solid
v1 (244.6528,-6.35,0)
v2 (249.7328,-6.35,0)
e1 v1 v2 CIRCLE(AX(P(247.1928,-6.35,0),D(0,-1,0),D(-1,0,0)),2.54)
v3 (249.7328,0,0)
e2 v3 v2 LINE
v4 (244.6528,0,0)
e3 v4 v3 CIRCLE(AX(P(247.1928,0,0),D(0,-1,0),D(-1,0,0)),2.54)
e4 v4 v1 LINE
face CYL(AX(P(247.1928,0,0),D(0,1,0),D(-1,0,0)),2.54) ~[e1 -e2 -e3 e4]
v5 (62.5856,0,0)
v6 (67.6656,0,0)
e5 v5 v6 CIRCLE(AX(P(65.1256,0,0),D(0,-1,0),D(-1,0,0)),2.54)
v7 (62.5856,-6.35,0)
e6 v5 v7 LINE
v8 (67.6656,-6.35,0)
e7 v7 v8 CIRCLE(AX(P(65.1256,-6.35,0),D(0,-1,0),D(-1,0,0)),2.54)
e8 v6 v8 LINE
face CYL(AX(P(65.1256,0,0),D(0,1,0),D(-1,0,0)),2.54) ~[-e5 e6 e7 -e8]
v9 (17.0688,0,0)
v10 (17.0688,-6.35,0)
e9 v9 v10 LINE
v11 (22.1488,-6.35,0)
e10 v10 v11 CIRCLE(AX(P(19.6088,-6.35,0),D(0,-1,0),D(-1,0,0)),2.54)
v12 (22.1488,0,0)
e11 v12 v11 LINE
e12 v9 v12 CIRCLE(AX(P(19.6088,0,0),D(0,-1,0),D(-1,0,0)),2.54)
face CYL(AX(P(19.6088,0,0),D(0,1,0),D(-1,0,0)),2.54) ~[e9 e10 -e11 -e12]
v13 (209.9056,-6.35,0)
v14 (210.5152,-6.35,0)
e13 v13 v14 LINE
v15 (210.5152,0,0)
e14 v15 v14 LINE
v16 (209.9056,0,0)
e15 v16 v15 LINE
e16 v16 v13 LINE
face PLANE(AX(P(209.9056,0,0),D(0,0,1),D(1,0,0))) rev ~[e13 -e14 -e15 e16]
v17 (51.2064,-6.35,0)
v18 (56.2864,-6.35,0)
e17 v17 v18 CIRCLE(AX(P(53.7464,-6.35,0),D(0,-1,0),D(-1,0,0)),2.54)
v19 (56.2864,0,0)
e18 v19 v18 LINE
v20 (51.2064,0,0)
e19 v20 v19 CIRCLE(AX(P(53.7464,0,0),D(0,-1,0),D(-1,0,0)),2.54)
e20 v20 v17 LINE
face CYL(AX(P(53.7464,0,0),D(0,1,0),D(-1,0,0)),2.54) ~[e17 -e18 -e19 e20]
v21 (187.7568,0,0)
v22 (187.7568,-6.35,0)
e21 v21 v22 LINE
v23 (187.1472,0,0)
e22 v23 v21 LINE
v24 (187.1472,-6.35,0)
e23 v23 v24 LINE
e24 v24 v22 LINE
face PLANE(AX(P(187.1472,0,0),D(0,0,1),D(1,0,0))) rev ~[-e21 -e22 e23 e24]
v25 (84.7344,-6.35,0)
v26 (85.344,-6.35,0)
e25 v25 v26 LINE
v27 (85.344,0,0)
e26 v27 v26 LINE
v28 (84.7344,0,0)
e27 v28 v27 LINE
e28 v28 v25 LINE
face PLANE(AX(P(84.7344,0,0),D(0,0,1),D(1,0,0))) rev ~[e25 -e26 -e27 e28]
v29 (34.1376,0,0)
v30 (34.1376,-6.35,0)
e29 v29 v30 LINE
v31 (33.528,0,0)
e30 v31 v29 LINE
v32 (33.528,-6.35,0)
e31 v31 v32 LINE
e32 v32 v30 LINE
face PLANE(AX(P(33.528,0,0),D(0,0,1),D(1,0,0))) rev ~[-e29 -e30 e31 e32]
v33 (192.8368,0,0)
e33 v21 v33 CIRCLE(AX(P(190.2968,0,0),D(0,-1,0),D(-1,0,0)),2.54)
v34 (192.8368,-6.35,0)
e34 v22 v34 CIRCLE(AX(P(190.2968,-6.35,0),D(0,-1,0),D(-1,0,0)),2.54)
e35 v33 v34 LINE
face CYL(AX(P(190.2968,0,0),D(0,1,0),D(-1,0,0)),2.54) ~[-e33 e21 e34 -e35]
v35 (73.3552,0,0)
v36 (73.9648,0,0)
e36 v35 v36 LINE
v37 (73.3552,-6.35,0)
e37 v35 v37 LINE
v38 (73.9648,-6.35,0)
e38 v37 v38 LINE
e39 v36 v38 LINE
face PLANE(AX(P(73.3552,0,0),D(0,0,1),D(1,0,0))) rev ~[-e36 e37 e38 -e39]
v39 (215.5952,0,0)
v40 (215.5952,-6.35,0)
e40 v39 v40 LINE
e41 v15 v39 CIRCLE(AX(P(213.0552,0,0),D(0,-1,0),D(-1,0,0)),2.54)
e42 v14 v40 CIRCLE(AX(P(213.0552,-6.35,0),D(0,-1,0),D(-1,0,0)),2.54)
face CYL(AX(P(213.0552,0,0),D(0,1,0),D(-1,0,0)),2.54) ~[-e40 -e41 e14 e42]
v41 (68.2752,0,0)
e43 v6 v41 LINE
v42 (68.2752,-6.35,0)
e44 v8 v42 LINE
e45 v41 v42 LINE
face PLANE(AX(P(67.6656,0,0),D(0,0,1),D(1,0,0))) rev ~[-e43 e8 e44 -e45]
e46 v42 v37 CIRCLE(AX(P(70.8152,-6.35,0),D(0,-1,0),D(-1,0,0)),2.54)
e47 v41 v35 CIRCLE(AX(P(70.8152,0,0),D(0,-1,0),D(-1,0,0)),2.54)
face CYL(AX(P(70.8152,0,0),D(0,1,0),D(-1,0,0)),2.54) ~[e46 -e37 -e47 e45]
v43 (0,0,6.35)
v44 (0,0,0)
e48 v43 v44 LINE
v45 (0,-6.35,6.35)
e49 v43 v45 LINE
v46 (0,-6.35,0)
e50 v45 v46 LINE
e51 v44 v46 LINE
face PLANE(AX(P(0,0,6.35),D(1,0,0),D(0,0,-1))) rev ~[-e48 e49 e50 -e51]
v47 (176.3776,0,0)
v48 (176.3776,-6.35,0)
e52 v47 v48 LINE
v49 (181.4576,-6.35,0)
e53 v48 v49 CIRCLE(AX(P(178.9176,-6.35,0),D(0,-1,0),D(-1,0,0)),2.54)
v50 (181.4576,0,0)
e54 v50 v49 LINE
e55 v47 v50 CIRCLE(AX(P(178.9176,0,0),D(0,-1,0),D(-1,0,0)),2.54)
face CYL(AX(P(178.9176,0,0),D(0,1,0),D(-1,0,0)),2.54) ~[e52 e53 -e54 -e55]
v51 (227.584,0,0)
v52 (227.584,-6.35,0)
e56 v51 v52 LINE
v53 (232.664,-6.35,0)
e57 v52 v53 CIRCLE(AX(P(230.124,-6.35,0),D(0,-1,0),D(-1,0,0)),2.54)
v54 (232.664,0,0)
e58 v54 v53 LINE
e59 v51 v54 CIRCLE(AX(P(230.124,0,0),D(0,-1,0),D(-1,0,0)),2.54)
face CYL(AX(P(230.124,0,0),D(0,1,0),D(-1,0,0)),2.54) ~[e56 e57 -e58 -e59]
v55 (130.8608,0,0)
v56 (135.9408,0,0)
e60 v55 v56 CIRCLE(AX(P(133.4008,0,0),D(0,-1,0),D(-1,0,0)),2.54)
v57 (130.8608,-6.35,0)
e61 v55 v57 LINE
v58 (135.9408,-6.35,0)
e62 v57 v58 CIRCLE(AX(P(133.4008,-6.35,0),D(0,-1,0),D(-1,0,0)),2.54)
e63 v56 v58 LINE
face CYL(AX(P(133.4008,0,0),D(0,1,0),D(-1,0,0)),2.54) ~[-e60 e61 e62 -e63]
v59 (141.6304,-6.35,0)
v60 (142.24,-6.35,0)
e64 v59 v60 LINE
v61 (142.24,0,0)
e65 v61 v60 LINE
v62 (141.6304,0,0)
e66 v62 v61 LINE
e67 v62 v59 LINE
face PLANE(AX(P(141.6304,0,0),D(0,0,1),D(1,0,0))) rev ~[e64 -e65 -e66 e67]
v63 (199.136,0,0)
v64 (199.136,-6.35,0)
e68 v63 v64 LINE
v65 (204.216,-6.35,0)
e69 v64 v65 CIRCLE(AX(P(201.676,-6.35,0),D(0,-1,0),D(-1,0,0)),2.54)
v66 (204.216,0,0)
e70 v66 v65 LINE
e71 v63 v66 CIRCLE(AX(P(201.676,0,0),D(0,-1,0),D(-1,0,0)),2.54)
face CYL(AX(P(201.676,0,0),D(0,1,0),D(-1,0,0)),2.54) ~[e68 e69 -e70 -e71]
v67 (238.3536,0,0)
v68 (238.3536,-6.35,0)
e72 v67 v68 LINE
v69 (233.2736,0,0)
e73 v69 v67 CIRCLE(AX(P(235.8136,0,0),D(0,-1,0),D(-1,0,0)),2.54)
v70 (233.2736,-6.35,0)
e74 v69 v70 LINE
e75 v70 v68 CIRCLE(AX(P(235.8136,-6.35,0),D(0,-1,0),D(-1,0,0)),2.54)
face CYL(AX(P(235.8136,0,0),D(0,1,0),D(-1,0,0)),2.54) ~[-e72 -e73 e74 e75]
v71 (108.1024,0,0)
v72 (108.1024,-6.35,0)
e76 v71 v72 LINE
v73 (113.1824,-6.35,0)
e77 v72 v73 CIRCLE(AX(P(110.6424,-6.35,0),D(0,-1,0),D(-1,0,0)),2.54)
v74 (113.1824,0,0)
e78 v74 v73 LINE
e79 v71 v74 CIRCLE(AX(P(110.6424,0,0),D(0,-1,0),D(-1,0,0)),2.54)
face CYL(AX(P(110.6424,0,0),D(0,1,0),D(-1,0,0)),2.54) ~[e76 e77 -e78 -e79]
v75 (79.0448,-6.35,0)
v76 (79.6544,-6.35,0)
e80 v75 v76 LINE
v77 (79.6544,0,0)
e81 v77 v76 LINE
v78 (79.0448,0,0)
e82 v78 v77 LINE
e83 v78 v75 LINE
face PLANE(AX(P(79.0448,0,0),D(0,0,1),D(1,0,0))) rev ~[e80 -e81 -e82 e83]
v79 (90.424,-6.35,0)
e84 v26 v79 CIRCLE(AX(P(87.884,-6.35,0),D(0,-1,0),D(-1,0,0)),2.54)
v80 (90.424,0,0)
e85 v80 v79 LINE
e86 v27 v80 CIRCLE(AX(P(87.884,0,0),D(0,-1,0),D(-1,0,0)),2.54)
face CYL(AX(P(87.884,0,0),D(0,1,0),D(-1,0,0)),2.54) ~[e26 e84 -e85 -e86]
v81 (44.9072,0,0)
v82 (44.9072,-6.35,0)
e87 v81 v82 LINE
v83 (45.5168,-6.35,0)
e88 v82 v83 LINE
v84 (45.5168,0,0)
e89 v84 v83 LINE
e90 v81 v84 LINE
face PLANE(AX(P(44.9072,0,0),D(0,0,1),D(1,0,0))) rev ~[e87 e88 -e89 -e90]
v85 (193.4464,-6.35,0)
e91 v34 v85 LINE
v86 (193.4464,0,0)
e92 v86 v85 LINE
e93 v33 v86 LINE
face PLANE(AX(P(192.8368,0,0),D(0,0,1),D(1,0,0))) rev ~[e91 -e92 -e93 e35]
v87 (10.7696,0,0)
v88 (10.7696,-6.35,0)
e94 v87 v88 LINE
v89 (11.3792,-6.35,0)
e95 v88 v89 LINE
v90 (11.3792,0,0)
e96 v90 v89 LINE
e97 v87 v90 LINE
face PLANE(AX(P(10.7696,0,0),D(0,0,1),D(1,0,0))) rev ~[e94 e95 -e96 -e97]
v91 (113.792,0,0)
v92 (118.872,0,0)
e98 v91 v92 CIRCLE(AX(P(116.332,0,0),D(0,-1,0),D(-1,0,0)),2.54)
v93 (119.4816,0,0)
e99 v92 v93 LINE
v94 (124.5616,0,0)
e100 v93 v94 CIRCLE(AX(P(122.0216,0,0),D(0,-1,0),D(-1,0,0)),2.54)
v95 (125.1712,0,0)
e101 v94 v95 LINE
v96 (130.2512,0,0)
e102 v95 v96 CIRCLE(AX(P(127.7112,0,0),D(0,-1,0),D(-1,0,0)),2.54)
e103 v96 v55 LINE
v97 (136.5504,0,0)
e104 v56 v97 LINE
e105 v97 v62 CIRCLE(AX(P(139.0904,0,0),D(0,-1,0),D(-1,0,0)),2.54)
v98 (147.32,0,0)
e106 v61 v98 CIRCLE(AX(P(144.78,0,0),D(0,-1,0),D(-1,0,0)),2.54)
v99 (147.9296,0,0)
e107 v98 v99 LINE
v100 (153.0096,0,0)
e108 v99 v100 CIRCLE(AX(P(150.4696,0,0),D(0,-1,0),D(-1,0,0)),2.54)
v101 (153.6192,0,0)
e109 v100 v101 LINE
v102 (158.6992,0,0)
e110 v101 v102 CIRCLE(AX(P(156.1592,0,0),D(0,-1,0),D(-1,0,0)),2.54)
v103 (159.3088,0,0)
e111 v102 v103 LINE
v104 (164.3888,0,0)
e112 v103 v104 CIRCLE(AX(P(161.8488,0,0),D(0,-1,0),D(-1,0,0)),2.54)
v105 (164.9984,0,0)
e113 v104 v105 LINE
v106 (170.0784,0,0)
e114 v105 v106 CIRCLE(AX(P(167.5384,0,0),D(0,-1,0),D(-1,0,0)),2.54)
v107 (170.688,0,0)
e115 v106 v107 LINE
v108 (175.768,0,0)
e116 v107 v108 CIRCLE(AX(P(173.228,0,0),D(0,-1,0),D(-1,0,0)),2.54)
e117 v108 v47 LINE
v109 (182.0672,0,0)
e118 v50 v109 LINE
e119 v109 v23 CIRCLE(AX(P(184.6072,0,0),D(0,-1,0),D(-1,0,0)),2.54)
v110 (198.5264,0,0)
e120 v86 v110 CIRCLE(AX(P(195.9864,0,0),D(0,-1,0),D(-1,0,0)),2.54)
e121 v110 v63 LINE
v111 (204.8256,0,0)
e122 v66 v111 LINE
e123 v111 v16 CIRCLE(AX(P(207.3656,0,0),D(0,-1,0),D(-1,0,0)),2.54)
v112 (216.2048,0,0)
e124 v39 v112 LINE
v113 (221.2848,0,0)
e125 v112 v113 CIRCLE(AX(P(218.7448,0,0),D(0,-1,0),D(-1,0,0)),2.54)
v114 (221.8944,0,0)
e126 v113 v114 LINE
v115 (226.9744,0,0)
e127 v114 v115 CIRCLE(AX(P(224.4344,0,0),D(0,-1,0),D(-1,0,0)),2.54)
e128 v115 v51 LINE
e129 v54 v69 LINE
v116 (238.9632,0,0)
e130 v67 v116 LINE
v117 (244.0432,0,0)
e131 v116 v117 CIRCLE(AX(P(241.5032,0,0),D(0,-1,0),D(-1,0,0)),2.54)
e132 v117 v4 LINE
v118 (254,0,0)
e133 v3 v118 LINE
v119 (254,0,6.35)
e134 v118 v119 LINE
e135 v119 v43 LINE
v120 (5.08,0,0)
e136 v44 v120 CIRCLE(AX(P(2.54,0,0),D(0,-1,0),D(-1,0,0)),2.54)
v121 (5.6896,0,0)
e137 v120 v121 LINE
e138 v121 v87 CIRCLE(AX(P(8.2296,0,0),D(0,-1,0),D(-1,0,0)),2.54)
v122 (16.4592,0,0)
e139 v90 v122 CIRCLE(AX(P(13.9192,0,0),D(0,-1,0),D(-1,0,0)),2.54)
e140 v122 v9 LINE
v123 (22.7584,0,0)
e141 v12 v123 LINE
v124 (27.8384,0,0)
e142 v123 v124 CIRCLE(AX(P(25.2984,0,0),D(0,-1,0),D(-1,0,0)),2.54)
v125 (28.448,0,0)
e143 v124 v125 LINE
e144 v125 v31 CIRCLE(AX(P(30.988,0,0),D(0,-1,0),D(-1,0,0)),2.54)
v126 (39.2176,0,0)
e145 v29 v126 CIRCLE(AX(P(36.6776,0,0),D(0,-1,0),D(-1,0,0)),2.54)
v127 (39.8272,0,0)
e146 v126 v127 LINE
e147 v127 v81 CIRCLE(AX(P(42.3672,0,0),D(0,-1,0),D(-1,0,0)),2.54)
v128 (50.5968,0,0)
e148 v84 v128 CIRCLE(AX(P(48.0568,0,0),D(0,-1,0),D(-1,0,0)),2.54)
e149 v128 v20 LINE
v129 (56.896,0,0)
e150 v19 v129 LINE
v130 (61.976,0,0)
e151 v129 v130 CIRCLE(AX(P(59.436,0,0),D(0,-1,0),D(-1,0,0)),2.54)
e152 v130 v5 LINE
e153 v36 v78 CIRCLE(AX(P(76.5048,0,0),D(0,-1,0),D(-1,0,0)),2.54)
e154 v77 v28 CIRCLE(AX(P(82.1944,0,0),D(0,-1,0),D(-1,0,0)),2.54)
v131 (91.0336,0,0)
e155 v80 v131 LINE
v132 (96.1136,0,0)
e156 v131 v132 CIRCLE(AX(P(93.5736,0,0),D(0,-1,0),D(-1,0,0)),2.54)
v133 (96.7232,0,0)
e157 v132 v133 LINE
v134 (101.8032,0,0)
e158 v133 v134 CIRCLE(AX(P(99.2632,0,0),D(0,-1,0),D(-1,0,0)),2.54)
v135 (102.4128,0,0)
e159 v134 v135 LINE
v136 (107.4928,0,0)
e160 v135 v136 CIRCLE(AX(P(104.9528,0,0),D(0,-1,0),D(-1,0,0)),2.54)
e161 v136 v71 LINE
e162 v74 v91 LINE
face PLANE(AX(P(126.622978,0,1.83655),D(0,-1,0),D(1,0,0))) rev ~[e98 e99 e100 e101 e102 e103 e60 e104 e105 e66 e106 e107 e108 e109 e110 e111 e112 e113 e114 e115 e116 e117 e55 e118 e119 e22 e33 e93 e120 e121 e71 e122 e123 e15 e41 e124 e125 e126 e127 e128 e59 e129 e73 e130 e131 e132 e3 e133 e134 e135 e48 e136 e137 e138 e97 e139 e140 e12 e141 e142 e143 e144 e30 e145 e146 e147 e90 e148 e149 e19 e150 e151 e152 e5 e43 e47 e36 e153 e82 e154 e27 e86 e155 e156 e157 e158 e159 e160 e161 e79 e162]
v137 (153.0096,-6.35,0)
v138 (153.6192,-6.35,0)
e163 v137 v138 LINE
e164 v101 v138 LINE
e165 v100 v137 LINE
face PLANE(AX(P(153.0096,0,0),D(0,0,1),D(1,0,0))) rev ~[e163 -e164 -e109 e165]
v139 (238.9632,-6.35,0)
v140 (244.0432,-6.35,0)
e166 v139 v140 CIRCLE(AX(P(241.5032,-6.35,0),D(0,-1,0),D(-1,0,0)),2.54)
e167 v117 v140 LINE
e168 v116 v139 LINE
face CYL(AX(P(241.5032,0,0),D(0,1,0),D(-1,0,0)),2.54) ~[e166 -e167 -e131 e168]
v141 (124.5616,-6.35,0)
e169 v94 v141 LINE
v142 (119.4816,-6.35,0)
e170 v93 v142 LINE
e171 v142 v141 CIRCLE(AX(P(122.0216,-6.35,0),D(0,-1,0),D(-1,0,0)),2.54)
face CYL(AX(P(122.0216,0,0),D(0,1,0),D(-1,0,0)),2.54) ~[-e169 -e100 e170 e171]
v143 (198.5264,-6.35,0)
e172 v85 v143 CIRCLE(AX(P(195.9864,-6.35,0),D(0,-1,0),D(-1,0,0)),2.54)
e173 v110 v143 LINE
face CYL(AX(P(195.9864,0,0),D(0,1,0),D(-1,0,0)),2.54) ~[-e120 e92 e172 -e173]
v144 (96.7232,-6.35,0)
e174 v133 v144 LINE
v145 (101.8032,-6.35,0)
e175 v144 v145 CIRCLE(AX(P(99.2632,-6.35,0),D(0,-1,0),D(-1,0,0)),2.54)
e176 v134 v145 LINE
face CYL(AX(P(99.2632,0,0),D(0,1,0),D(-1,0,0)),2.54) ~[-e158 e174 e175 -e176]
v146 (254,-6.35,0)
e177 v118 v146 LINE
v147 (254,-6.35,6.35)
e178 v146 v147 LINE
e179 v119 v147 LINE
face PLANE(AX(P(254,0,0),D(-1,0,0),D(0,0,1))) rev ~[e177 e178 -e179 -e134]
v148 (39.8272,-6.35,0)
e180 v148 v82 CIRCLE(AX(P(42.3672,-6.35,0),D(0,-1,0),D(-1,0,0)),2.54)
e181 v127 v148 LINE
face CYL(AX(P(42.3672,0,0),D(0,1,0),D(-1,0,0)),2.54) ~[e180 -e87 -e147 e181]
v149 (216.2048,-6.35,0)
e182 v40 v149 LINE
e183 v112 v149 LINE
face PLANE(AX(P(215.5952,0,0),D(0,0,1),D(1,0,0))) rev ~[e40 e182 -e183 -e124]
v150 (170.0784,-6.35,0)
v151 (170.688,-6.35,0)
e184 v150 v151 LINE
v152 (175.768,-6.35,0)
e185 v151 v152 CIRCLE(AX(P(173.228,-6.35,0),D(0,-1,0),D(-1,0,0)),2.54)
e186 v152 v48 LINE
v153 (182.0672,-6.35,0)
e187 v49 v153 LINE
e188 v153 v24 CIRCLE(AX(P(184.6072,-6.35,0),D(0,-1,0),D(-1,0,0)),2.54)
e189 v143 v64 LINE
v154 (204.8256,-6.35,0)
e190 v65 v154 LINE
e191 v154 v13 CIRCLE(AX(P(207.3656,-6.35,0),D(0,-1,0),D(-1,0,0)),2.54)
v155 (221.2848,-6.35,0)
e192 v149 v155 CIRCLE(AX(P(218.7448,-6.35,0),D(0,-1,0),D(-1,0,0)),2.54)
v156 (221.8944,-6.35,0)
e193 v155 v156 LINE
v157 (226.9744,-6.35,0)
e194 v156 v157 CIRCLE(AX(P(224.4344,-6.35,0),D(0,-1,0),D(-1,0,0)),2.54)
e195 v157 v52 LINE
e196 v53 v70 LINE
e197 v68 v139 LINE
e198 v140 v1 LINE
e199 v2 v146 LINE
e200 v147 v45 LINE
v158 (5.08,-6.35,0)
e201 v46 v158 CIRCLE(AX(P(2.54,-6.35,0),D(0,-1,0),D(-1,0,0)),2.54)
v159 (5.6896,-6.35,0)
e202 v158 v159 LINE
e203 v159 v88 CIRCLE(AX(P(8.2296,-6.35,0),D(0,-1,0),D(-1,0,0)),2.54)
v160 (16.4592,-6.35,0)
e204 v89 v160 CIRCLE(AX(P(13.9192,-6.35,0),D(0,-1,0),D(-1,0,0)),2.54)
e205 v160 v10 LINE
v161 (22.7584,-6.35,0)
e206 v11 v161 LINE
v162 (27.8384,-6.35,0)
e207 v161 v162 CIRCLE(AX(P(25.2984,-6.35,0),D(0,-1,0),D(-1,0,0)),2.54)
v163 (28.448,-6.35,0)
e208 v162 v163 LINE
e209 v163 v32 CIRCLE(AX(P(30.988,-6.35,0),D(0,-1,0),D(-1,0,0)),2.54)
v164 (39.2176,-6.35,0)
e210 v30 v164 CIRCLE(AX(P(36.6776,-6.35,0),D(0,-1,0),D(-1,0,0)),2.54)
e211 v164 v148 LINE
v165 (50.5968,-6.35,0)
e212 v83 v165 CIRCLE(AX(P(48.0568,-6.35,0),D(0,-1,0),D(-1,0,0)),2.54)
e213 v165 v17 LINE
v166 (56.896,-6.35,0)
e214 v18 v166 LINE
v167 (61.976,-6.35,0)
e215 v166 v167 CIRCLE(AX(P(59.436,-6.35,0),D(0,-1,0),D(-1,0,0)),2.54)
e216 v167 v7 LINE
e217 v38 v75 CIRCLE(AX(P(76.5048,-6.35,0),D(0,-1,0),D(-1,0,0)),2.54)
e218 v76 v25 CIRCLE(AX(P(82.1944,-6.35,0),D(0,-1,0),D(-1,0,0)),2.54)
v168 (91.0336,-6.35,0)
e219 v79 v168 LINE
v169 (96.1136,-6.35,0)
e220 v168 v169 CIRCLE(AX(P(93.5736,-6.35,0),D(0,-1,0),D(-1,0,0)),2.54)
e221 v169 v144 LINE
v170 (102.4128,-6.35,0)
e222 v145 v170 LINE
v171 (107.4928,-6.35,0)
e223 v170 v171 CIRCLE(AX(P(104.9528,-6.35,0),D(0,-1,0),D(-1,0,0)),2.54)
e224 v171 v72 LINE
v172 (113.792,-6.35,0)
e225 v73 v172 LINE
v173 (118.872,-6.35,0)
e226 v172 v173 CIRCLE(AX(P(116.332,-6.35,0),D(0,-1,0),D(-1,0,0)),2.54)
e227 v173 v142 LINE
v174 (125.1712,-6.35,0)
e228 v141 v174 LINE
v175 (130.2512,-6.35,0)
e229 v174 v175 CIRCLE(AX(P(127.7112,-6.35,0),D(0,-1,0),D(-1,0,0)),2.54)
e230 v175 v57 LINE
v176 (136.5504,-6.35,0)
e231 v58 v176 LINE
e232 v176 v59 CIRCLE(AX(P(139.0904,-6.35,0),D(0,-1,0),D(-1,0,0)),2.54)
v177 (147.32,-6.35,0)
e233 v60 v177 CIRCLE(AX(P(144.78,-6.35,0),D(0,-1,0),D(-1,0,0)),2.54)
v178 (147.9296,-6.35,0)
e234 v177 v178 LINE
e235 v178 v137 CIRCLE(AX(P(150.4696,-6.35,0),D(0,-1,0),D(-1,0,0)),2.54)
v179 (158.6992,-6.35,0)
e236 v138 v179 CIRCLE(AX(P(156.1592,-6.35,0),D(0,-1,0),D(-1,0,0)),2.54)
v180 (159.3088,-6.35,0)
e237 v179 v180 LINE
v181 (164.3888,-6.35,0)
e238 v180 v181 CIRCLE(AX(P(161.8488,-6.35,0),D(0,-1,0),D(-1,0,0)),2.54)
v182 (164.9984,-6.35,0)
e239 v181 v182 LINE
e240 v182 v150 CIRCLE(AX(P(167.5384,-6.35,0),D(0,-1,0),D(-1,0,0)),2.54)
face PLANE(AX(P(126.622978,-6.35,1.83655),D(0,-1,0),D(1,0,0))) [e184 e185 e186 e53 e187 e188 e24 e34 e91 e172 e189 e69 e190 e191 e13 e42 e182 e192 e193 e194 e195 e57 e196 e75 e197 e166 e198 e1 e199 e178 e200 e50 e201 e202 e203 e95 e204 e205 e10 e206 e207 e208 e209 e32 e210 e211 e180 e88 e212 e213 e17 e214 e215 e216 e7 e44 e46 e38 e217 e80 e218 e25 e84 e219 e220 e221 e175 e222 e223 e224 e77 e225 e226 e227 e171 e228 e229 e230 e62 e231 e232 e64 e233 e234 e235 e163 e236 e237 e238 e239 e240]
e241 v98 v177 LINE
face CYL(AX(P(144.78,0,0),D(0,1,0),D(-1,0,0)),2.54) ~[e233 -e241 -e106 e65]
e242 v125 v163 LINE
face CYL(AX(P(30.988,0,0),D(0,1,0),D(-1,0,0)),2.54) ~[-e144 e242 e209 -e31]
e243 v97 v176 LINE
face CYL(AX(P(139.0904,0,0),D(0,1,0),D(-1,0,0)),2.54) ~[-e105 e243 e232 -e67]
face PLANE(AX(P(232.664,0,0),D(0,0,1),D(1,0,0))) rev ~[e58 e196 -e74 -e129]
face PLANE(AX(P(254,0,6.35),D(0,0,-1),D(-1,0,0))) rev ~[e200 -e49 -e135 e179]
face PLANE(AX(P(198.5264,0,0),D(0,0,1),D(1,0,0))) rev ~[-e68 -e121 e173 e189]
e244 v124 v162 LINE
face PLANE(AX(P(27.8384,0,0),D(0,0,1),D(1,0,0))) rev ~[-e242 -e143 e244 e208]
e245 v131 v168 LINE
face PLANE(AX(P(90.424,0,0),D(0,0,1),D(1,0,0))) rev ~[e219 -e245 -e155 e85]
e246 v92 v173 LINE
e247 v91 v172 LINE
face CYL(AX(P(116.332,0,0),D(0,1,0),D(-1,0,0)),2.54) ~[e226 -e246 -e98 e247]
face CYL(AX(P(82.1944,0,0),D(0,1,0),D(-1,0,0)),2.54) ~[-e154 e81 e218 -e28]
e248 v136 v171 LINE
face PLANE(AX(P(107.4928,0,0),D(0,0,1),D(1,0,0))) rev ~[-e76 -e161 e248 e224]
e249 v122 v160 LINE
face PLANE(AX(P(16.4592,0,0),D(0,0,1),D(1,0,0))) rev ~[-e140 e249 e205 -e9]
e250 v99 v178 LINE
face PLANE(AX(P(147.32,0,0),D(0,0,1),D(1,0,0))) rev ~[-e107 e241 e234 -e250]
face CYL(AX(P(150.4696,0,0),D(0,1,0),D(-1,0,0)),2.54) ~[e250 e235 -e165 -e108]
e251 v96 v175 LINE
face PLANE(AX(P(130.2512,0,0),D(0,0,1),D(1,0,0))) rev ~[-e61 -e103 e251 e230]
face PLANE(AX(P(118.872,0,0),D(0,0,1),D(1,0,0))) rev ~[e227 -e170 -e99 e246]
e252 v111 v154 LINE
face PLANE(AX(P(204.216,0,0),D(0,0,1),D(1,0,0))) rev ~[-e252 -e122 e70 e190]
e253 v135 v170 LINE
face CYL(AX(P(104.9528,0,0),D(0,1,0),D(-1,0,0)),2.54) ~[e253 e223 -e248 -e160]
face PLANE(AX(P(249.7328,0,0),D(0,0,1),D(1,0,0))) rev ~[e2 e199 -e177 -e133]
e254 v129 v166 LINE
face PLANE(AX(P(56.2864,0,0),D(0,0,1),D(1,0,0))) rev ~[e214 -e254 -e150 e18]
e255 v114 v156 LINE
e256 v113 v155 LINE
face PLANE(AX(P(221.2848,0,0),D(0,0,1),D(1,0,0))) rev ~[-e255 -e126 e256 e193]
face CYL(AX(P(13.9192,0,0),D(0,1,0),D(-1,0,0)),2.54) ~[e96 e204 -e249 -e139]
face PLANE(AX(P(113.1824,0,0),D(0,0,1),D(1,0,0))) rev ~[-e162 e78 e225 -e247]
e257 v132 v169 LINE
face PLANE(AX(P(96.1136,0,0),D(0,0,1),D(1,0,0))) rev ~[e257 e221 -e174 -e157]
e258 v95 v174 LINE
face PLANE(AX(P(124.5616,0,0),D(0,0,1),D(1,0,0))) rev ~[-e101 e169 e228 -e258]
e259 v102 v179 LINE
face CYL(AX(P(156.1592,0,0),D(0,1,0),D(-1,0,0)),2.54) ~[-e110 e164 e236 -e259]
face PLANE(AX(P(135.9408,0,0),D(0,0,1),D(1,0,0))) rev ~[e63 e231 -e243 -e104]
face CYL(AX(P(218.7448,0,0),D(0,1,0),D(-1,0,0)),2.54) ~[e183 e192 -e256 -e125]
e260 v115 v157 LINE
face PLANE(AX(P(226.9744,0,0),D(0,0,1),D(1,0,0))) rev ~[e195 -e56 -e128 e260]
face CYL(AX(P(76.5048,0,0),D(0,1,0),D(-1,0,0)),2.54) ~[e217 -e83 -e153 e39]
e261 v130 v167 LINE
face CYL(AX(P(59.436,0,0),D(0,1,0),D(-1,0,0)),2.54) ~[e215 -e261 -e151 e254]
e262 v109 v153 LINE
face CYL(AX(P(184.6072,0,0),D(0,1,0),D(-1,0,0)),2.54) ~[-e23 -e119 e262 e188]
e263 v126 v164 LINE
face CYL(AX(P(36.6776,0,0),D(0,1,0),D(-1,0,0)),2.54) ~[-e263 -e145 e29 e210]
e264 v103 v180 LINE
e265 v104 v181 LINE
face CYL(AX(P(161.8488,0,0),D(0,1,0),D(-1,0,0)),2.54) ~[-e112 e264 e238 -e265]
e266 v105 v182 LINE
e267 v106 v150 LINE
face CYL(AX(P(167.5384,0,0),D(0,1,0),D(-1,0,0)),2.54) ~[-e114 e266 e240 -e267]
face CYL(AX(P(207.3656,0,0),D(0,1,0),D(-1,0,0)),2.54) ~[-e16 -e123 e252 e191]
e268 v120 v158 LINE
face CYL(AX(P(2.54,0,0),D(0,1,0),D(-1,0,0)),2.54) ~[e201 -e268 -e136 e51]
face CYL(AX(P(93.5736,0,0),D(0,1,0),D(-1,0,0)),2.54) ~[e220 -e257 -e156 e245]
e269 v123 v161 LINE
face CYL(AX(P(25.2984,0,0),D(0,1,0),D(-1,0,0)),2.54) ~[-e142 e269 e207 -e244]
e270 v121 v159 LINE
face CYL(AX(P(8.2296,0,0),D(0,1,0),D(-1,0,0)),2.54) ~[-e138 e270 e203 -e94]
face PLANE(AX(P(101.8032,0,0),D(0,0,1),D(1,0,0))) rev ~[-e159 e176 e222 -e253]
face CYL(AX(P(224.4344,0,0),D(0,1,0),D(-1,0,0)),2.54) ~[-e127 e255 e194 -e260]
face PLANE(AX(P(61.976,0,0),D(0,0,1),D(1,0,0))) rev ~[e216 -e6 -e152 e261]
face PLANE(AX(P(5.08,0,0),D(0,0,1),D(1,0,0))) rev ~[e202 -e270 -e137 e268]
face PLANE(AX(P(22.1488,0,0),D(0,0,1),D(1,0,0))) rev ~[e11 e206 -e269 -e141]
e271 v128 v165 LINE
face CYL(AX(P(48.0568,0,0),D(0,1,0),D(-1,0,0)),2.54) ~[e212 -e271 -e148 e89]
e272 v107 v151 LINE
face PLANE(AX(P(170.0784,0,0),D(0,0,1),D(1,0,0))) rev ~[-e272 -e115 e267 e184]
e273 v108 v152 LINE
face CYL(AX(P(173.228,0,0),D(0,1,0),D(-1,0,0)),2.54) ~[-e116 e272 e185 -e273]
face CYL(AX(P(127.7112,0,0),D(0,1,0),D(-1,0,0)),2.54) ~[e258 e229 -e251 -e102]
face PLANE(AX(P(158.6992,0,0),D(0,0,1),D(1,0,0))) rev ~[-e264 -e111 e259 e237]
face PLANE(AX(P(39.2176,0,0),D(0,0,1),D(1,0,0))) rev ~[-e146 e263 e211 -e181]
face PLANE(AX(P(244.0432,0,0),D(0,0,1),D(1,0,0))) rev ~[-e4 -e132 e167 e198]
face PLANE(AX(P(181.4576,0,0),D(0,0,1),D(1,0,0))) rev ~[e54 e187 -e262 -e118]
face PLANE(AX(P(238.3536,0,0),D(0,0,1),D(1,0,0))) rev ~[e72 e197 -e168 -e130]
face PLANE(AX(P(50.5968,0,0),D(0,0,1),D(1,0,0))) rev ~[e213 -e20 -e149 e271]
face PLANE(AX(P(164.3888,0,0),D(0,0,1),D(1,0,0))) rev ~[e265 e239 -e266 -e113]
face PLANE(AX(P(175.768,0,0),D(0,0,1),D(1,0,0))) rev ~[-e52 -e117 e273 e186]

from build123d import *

# Parameters (mm, degrees)
F1_DEPTH = 6.35


with BuildPart() as f1:
    # F0 (on Front) → F1 (new body)
    with BuildSketch(Plane.XZ):
        with BuildLine():
            Line((254, 6.35), (0, 6.35))
            Line((0, 6.35), (0, 0))
            ThreePointArc((0, 0), (2.54, -2.54), (5.08, 0))
            Line((5.08, 0), (5.6896, 0))
            ThreePointArc((5.6896, 0), (8.2296, -2.54), (10.7696, 0))
            Line((10.7696, 0), (11.3792, 0))
            ThreePointArc((11.3792, 0), (13.9192, -2.54), (16.4592, 0))
            Line((16.4592, 0), (17.0688, 0))
            ThreePointArc((17.0688, 0), (19.6088, -2.54), (22.1488, 0))
            Line((22.1488, 0), (22.7584, 0))
            ThreePointArc((22.7584, 0), (25.2984, -2.54), (27.8384, 0))
            Line((27.8384, 0), (28.448, 0))
            ThreePointArc((28.448, 0), (30.988, -2.54), (33.528, 0))
            Line((33.528, 0), (34.1376, 0))
            ThreePointArc((34.1376, 0), (36.6776, -2.54), (39.2176, 0))
            Line((39.2176, 0), (39.8272, 0))
            ThreePointArc((39.8272, 0), (42.3672, -2.54), (44.9072, 0))
            Line((44.9072, 0), (45.5168, 0))
            ThreePointArc((45.5168, 0), (48.0568, -2.54), (50.5968, 0))
            Line((50.5968, 0), (51.2064, 0))
            ThreePointArc((51.2064, 0), (53.7464, -2.54), (56.2864, 0))
            Line((56.2864, 0), (56.896, 0))
            ThreePointArc((56.896, 0), (59.436, -2.54), (61.976, 0))
            Line((61.976, 0), (62.5856, 0))
            ThreePointArc((62.5856, 0), (65.1256, -2.54), (67.6656, 0))
            Line((67.6656, 0), (68.2752, 0))
            ThreePointArc((68.2752, 0), (70.8152, -2.54), (73.3552, 0))
            Line((73.3552, 0), (73.9648, 0))
            ThreePointArc((73.9648, 0), (76.5048, -2.54), (79.0448, 0))
            Line((79.0448, 0), (79.6544, 0))
            ThreePointArc((79.6544, 0), (82.1944, -2.54), (84.7344, 0))
            Line((84.7344, 0), (85.344, 0))
            ThreePointArc((85.344, 0), (87.884, -2.54), (90.424, 0))
            Line((90.424, 0), (91.0336, 0))
            ThreePointArc((91.0336, 0), (93.5736, -2.54), (96.1136, 0))
            Line((96.1136, 0), (96.7232, 0))
            ThreePointArc((96.7232, 0), (99.2632, -2.54), (101.8032, 0))
            Line((101.8032, 0), (102.4128, 0))
            ThreePointArc((102.4128, 0), (104.9528, -2.54), (107.4928, 0))
            Line((107.4928, 0), (108.1024, 0))
            ThreePointArc((108.1024, 0), (110.6424, -2.54), (113.1824, 0))
            Line((113.1824, 0), (113.792, 0))
            ThreePointArc((113.792, 0), (116.332, -2.54), (118.872, 0))
            Line((118.872, 0), (119.4816, 0))
            ThreePointArc((119.4816, 0), (122.0216, -2.54), (124.5616, 0))
            Line((124.5616, 0), (125.1712, 0))
            ThreePointArc((125.1712, 0), (127.7112, -2.54), (130.2512, 0))
            Line((130.2512, 0), (130.8608, 0))
            ThreePointArc((130.8608, 0), (133.4008, -2.54), (135.9408, 0))
            Line((135.9408, 0), (136.5504, 0))
            ThreePointArc((136.5504, 0), (139.0904, -2.54), (141.6304, 0))
            Line((141.6304, 0), (142.24, 0))
            ThreePointArc((142.24, 0), (144.78, -2.54), (147.32, 0))
            Line((147.32, 0), (147.9296, 0))
            ThreePointArc((147.9296, 0), (150.4696, -2.54), (153.0096, 0))
            Line((153.0096, 0), (153.6192, 0))
            ThreePointArc((153.6192, 0), (156.1592, -2.54), (158.6992, 0))
            Line((158.6992, 0), (159.3088, 0))
            ThreePointArc((159.3088, 0), (161.8488, -2.54), (164.3888, 0))
            Line((164.3888, 0), (164.9984, 0))
            ThreePointArc((164.9984, 0), (167.5384, -2.54), (170.0784, 0))
            Line((170.0784, 0), (170.688, 0))
            ThreePointArc((170.688, 0), (173.228, -2.54), (175.768, 0))
            Line((175.768, 0), (176.3776, 0))
            ThreePointArc((176.3776, 0), (178.9176, -2.54), (181.4576, 0))
            Line((181.4576, 0), (182.0672, 0))
            ThreePointArc((182.0672, 0), (184.6072, -2.54), (187.1472, 0))
            Line((187.1472, 0), (187.7568, 0))
            ThreePointArc((187.7568, 0), (190.2968, -2.54), (192.8368, 0))
            Line((192.8368, 0), (193.4464, 0))
            ThreePointArc((193.4464, 0), (195.9864, -2.54), (198.5264, 0))
            Line((198.5264, 0), (199.136, 0))
            ThreePointArc((199.136, 0), (201.676, -2.54), (204.216, 0))
            Line((204.216, 0), (204.8256, 0))
            ThreePointArc((204.8256, 0), (207.3656, -2.54), (209.9056, 0))
            Line((209.9056, 0), (210.5152, 0))
            ThreePointArc((210.5152, 0), (213.0552, -2.54), (215.5952, 0))
            Line((215.5952, 0), (216.2048, 0))
            ThreePointArc((216.2048, 0), (218.7448, -2.54), (221.2848, 0))
            Line((221.2848, 0), (221.8944, 0))
            ThreePointArc((221.8944, 0), (224.4344, -2.54), (226.9744, 0))
            Line((226.9744, 0), (227.584, 0))
            ThreePointArc((227.584, 0), (230.124, -2.54), (232.664, 0))
            Line((232.664, 0), (233.2736, 0))
            ThreePointArc((233.2736, 0), (235.8136, -2.54), (238.3536, 0))
            Line((238.3536, 0), (238.9632, 0))
            ThreePointArc((238.9632, 0), (241.5032, -2.54), (244.0432, 0))
            Line((244.0432, 0), (244.6528, 0))
            ThreePointArc((244.6528, 0), (247.1928, -2.54), (249.7328, 0))
            Line((249.7328, 0), (254, 0))
            Line((254, 0), (254, 6.35))
        make_face()
    extrude(amount=F1_DEPTH)


solid = f1.part
